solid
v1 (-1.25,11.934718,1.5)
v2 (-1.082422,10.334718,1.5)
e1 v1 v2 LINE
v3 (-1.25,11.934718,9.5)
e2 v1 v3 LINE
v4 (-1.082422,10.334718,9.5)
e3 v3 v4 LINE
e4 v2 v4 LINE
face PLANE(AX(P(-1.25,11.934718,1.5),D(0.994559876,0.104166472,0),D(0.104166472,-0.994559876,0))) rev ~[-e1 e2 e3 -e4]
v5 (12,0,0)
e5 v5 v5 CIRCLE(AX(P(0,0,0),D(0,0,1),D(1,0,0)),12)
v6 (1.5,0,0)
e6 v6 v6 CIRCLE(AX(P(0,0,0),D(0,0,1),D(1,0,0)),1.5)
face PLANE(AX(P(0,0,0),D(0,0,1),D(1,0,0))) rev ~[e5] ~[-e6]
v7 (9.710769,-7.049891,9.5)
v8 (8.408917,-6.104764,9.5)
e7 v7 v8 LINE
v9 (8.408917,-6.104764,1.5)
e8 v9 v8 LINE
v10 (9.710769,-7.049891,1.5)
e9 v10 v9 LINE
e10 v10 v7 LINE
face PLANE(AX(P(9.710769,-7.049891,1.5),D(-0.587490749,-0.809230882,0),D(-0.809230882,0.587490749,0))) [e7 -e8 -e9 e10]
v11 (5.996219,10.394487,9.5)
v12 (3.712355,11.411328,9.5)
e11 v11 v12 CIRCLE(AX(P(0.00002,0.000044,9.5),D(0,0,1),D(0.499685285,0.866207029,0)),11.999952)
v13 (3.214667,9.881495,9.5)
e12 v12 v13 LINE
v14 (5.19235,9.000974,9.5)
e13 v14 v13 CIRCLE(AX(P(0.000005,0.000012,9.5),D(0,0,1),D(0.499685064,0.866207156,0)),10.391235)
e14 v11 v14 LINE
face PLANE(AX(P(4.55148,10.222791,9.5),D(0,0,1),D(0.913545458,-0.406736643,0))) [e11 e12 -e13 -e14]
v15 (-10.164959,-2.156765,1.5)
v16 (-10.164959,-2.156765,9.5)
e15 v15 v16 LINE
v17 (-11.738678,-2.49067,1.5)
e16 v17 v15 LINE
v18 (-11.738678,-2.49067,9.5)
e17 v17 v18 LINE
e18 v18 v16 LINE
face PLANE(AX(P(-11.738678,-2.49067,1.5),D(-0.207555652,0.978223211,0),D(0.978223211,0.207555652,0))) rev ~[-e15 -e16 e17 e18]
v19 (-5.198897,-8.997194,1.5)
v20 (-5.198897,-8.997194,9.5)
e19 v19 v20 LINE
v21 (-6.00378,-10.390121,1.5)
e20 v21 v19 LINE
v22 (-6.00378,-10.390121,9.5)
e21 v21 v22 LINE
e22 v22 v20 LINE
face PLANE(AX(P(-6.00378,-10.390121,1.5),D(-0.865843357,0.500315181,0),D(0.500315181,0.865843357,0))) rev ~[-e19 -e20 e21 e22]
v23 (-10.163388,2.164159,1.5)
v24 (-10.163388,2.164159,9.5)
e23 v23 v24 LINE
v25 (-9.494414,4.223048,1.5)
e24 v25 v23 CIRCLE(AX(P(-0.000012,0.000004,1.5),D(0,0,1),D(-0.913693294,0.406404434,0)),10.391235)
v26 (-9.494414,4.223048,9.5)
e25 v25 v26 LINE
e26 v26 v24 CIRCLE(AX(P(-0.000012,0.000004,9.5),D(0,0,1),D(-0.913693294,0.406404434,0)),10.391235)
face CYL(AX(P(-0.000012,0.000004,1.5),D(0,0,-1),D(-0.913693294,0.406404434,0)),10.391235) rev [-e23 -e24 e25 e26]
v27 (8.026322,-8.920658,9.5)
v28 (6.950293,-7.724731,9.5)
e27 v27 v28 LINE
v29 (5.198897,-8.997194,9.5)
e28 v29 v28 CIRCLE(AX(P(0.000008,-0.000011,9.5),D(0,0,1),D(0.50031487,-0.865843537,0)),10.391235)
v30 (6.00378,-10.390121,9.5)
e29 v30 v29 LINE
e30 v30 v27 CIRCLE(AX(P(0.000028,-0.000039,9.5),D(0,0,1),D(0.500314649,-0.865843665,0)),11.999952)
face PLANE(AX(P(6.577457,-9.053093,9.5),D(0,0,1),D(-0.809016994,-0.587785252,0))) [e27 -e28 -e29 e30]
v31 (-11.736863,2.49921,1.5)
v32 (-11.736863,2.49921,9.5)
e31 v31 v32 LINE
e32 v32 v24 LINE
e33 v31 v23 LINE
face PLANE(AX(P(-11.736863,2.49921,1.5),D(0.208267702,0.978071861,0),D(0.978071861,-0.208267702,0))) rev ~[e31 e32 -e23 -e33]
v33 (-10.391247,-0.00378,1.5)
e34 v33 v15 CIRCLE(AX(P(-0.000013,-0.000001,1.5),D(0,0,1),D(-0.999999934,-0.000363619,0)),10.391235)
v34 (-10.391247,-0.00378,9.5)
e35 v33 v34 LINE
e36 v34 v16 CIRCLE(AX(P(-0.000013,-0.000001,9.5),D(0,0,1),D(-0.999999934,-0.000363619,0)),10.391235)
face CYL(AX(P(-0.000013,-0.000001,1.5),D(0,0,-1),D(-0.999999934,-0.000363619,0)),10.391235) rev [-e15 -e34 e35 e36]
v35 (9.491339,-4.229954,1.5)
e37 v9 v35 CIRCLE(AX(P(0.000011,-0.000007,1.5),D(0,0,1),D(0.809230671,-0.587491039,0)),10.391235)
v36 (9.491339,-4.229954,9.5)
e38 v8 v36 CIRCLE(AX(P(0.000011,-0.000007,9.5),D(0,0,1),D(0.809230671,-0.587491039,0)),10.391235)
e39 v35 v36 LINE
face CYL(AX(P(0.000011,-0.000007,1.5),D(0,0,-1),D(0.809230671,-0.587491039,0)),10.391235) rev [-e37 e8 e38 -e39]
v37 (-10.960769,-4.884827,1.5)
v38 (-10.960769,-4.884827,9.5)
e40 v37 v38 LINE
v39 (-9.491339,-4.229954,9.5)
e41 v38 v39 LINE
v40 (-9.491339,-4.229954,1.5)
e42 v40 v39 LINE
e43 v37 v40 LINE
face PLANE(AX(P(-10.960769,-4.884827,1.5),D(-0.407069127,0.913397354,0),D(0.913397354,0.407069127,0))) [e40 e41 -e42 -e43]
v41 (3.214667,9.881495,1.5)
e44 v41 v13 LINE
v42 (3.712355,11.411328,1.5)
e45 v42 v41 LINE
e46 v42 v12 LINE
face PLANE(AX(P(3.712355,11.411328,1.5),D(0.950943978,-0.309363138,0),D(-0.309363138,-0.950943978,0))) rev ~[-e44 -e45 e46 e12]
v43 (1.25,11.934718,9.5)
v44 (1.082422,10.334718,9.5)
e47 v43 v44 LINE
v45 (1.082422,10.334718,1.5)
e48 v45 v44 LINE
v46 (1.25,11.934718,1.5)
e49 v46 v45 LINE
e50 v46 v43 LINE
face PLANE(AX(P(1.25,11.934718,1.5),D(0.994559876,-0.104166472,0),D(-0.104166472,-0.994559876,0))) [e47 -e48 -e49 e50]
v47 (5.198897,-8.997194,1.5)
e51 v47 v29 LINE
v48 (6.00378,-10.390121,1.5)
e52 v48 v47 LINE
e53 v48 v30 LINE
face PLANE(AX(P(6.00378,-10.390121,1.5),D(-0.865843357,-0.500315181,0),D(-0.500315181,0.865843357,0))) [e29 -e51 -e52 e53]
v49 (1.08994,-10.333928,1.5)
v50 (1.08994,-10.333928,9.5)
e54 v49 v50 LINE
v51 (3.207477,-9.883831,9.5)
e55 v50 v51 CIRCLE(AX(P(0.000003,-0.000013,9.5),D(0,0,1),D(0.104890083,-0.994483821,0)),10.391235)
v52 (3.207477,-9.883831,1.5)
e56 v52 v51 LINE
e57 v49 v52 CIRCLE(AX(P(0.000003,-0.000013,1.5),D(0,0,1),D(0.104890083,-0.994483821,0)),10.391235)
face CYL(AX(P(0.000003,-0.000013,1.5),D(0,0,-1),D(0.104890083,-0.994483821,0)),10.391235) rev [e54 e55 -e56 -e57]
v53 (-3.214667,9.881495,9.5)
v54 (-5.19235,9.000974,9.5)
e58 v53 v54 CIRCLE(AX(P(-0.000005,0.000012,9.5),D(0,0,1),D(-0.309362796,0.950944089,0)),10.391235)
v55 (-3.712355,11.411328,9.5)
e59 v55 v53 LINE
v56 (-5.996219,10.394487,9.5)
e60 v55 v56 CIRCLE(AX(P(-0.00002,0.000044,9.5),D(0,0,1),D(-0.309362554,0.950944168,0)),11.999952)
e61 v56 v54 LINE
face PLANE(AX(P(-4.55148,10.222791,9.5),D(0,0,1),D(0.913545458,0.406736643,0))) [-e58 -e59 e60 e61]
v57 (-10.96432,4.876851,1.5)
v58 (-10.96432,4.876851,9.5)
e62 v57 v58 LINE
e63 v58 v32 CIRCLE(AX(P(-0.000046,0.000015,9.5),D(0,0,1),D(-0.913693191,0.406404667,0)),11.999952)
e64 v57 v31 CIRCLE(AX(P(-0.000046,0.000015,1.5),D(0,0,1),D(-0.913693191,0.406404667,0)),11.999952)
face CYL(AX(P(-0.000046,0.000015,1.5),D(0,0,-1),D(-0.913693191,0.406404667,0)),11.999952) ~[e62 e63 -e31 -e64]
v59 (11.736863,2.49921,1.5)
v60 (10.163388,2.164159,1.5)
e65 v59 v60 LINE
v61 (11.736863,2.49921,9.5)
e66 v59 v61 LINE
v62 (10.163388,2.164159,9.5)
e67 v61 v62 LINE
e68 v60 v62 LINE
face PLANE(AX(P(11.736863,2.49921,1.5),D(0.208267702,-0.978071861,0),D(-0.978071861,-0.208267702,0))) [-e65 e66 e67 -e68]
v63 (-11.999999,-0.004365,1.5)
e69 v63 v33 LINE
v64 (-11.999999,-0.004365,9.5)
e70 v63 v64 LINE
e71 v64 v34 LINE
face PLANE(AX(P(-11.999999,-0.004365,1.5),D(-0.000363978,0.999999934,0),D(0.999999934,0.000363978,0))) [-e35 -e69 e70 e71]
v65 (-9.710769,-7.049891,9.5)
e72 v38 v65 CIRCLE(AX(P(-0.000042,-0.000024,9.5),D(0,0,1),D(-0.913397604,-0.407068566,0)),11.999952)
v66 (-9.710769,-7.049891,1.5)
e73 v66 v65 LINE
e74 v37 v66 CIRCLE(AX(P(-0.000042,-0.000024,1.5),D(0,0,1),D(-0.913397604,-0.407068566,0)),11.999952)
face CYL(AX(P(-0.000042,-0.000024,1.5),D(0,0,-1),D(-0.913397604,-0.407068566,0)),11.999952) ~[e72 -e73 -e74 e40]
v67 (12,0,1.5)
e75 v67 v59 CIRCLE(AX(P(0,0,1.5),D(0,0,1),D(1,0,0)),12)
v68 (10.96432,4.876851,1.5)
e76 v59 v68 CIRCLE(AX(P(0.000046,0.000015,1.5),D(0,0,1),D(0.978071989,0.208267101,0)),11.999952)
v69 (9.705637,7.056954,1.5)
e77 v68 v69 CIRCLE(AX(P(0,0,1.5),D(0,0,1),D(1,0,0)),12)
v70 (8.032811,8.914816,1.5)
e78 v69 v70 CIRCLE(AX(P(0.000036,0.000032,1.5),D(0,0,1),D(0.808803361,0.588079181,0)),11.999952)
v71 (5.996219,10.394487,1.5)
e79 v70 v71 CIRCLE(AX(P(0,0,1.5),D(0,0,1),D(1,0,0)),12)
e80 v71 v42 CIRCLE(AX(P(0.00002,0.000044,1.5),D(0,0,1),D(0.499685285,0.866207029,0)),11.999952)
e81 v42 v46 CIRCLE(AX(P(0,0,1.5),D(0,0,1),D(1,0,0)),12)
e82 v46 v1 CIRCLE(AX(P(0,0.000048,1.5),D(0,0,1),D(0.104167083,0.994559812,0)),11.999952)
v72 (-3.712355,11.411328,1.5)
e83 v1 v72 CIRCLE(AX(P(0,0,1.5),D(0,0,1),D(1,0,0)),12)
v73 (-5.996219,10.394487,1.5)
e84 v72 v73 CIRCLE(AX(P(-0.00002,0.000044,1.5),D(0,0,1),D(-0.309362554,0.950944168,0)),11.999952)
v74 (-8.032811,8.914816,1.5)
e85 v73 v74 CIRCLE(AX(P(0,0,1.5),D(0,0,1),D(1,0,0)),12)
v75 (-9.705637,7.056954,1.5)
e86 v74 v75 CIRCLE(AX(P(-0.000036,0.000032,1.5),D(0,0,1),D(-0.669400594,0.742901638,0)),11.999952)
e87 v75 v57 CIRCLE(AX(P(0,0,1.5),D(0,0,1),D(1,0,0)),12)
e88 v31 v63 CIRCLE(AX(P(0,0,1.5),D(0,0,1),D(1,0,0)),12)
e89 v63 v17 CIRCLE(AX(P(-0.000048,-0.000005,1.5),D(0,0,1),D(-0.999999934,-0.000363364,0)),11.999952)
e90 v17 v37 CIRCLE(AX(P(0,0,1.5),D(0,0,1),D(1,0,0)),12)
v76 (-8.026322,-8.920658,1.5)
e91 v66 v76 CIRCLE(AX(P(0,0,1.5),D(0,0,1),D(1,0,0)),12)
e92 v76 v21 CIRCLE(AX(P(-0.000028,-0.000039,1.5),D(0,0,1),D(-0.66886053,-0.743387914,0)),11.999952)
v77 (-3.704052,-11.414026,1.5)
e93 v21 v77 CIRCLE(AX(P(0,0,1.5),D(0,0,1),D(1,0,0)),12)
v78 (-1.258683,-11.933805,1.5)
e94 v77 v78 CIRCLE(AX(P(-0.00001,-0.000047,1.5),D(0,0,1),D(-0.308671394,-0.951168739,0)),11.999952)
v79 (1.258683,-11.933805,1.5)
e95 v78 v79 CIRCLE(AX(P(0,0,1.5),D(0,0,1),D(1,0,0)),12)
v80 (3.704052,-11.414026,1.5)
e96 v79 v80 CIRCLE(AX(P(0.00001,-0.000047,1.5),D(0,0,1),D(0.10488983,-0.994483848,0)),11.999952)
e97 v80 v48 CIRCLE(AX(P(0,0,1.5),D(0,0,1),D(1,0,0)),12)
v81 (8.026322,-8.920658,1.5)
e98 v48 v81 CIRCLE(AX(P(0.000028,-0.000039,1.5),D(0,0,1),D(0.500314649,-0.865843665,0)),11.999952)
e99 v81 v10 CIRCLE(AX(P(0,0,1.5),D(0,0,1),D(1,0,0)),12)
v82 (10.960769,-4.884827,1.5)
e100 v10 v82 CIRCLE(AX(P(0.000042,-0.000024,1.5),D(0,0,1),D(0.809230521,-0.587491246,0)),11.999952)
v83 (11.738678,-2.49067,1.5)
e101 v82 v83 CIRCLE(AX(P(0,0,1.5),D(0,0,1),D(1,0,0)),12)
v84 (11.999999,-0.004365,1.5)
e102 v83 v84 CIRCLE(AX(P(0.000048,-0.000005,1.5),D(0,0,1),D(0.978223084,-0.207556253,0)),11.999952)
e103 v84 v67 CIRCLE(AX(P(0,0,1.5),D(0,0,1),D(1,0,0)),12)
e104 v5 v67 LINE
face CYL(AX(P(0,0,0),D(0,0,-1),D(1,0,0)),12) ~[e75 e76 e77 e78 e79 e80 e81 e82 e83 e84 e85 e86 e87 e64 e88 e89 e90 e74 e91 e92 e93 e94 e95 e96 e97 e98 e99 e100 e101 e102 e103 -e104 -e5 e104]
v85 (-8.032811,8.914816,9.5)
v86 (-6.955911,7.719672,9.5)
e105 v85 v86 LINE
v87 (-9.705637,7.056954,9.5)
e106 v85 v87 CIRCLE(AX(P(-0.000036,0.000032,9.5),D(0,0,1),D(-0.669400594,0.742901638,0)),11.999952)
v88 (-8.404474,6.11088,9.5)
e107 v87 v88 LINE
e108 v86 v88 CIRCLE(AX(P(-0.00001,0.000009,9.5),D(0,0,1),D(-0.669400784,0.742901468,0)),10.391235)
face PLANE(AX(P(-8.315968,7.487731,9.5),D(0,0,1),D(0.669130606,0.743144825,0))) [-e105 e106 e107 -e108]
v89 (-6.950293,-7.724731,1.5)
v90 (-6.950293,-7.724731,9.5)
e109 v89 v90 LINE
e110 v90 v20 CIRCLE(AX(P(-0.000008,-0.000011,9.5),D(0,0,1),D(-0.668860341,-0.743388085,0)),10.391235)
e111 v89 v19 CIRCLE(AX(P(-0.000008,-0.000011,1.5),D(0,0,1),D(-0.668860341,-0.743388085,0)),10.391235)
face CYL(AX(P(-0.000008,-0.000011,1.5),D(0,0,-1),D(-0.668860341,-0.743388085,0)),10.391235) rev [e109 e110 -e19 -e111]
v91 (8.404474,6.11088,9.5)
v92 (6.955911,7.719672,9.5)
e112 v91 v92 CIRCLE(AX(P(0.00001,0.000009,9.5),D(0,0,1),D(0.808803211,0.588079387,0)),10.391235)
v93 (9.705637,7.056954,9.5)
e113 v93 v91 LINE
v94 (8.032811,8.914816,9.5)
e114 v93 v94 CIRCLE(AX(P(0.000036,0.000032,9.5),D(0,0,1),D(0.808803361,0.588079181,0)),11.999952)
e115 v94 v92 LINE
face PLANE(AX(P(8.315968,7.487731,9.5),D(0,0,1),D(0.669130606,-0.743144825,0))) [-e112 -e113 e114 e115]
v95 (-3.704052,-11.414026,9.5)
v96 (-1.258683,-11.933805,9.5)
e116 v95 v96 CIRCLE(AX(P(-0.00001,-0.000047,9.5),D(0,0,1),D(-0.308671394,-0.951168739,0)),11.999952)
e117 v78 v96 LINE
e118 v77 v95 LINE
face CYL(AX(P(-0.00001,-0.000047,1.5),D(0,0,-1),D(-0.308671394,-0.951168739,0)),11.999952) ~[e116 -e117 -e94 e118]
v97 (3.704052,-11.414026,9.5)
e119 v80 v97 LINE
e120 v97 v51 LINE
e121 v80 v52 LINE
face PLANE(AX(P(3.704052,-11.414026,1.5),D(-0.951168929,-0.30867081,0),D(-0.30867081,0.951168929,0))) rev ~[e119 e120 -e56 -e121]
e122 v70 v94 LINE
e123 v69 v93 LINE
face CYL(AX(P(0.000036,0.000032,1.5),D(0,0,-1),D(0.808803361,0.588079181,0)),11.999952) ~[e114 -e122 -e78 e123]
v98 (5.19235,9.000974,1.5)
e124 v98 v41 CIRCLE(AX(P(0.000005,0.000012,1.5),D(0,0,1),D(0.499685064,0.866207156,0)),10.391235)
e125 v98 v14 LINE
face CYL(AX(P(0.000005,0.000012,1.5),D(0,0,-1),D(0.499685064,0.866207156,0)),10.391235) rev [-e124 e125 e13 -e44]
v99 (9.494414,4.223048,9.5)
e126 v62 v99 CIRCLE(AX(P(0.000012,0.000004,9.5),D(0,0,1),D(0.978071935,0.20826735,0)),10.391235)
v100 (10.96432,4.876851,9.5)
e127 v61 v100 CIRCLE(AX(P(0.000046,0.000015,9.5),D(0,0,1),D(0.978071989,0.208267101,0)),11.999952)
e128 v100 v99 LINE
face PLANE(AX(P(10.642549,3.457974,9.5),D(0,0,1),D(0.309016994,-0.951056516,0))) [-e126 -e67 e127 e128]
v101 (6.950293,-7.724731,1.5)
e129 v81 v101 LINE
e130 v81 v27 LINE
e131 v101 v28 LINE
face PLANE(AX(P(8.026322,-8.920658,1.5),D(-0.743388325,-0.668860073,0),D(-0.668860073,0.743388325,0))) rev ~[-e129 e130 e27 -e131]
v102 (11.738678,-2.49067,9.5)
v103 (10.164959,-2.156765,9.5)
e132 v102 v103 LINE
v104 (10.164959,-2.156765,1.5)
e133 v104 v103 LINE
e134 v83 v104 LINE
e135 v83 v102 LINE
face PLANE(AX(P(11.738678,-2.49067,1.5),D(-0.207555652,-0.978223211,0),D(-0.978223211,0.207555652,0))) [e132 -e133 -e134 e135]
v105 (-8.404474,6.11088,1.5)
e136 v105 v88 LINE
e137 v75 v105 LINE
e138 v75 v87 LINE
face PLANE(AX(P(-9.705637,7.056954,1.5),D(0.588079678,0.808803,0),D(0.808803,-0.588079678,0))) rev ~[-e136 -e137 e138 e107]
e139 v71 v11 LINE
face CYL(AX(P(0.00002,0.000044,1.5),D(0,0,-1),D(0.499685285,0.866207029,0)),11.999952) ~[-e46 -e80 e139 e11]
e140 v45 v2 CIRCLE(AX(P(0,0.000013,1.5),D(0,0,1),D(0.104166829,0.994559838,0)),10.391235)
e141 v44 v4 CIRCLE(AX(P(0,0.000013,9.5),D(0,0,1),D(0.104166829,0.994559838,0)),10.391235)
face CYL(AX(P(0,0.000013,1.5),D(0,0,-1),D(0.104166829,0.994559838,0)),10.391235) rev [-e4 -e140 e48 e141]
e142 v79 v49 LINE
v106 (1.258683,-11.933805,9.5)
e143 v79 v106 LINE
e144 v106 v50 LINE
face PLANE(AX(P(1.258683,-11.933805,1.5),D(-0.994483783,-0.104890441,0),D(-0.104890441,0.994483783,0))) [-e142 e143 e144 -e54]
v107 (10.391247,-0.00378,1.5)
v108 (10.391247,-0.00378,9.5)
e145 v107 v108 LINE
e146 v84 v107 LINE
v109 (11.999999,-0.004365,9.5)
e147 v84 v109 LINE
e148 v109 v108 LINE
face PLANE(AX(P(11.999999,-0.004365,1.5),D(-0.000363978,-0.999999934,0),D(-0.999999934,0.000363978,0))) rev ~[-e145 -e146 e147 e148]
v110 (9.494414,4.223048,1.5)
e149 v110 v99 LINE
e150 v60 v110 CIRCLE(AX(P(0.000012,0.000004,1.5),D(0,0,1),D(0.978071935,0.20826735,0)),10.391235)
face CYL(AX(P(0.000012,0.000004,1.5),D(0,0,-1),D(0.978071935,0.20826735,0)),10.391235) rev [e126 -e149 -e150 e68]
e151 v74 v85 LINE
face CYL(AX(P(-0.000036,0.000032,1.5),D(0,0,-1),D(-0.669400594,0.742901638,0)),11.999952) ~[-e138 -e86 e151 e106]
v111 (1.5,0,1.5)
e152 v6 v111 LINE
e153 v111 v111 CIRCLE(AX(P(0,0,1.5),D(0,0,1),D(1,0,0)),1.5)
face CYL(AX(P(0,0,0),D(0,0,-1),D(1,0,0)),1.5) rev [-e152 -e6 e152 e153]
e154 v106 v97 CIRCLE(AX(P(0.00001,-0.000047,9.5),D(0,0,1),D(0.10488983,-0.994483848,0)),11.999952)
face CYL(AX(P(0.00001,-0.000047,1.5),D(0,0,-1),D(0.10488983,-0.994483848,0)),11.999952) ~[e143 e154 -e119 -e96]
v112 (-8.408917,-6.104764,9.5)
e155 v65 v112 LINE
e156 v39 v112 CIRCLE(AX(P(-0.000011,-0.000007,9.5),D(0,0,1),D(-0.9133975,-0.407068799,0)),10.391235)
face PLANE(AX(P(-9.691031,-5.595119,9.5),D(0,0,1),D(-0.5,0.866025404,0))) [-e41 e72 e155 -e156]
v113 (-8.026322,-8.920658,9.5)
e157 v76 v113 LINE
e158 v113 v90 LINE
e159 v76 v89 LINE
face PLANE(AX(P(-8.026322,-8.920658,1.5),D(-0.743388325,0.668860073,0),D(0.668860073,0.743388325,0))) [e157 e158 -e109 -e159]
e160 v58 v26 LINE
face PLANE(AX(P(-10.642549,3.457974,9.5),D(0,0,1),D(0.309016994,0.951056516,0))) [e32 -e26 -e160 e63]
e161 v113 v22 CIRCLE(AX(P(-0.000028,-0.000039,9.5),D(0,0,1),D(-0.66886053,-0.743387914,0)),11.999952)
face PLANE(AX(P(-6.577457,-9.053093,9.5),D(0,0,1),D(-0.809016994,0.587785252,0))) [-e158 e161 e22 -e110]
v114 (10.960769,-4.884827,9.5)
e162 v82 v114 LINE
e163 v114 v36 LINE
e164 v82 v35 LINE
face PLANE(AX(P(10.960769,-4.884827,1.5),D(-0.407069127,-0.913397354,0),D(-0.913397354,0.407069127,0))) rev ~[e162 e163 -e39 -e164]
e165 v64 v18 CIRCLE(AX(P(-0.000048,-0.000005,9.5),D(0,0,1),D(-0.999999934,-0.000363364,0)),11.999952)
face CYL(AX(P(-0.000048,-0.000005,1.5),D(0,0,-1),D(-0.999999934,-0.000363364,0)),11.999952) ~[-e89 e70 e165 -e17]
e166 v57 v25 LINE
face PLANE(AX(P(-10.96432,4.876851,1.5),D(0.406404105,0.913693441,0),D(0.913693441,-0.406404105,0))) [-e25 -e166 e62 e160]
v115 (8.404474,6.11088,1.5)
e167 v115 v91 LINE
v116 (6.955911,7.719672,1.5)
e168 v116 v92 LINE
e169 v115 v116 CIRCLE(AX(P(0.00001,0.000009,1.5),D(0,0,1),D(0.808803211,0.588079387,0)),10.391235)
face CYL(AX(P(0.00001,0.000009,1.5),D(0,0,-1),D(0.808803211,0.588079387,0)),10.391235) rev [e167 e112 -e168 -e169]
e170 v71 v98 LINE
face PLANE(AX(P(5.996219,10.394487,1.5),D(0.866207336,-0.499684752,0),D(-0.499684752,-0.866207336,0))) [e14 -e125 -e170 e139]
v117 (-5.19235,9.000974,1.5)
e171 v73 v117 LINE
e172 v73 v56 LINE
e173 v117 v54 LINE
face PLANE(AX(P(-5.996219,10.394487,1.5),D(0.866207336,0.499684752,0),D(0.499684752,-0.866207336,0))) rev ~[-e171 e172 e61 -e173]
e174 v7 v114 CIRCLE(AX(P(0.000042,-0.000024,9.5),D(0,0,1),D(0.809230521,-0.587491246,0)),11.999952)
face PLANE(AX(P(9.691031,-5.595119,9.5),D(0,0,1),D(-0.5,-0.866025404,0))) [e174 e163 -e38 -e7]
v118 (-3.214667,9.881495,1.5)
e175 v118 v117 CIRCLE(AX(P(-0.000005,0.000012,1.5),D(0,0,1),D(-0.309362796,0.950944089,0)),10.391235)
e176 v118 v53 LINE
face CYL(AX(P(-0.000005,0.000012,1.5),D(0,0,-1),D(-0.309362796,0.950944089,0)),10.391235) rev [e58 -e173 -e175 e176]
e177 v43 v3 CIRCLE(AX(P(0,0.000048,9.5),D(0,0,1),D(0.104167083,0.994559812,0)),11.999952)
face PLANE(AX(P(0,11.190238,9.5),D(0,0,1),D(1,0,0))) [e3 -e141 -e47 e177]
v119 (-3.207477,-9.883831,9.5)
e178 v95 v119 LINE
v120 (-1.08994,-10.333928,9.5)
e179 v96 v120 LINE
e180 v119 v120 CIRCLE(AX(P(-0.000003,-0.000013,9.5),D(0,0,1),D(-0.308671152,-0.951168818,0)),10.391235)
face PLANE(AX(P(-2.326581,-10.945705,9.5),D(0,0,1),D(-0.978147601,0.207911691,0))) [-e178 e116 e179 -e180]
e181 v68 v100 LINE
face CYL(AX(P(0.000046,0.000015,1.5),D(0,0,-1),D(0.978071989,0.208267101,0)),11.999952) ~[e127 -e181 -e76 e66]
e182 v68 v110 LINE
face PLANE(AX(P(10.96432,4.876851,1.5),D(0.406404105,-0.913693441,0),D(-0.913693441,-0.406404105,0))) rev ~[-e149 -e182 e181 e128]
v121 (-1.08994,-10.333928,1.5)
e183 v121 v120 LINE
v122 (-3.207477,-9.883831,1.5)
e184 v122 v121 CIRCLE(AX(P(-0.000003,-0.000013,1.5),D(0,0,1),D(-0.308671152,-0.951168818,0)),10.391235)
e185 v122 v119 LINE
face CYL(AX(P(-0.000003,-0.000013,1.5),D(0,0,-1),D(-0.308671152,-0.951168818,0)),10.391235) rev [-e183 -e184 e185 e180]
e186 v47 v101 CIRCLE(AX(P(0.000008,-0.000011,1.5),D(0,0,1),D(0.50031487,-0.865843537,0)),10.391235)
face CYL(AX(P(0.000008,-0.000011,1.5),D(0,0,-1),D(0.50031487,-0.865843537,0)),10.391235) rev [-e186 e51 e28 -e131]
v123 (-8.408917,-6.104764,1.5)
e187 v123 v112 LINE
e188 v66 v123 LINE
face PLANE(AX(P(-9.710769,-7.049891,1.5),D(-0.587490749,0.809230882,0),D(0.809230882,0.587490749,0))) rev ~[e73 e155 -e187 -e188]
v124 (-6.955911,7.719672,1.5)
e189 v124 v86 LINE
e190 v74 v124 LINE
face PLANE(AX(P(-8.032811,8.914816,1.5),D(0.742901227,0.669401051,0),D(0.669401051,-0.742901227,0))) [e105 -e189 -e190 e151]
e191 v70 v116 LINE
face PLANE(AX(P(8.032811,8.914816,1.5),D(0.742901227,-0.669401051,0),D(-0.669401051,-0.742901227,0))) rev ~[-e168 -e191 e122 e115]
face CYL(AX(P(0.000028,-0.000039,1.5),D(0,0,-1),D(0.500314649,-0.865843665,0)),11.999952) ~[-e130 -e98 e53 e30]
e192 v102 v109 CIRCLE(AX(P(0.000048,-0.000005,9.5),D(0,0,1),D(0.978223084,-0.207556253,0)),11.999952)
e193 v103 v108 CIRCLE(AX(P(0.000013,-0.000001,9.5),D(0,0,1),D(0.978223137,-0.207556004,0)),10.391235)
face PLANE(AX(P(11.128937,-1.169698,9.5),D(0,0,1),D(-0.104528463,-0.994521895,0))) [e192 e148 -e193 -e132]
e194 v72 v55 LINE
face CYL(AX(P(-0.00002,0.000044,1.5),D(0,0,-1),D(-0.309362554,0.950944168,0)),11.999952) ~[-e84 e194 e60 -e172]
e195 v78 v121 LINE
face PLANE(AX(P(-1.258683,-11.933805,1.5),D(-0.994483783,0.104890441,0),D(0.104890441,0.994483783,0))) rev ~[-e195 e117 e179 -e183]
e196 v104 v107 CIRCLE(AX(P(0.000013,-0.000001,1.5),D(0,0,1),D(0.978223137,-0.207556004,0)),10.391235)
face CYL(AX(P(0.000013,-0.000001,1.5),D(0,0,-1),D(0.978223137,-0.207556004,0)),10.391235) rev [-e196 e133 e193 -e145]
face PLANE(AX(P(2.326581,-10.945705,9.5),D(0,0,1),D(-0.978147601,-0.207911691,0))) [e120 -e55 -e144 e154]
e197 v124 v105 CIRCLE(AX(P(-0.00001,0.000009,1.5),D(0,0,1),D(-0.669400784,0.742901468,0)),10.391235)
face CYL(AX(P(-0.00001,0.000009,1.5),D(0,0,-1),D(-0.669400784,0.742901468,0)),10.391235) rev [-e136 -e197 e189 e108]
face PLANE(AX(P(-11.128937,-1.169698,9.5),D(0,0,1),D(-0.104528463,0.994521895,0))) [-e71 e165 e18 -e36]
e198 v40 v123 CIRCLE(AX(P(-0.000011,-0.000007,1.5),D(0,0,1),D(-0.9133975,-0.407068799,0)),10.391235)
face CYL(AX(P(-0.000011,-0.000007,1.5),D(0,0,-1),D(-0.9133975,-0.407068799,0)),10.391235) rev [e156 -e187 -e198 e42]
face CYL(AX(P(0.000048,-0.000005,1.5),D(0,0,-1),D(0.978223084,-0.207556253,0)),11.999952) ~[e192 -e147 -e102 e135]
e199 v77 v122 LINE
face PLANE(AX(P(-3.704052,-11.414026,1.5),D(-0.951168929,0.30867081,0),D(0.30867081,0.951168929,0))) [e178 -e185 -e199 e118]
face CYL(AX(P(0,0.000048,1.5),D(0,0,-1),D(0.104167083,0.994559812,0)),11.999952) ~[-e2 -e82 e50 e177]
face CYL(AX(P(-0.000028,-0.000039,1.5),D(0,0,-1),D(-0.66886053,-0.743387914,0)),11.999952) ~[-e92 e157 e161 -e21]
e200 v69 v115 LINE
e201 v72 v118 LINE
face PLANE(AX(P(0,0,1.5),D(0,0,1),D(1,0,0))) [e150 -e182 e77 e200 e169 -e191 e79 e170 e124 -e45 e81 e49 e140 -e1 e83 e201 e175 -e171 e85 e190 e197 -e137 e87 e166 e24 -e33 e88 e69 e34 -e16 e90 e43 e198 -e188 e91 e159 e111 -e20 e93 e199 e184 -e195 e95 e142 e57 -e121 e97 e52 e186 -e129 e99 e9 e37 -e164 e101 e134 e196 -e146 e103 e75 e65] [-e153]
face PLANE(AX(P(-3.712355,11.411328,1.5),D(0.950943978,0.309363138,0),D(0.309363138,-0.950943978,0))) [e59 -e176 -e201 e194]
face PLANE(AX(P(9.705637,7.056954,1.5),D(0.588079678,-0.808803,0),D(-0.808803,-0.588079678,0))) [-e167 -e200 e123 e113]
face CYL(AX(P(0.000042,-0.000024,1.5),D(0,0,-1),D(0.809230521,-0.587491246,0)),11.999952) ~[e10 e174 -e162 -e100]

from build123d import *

# Parameters (mm, degrees)
SKETCH_R           = 12
SKETCH_R_2         = 1.5
PAD_DEPTH          = 1.5
PAD001_DEPTH       = 8
POLARPATTERN_COUNT = 15


with BuildPart() as part:
    # Sketch → Pad (new body)
    with BuildSketch(Plane.XY):
        Circle(SKETCH_R)
        Circle(SKETCH_R_2, mode=Mode.SUBTRACT)
    extrude(amount=PAD_DEPTH)

    # Sketch001 → Pad001 (new body)
    with BuildSketch(Plane.XY.offset(1.5)):
        with BuildLine():
            ThreePointArc((1.25, 11.934718), (0, 12), (-1.25, 11.934718))
            Line((-1.25, 11.934718), (-1.082422, 10.334718))
            ThreePointArc((1.082422, 10.334718), (0, 10.391248), (-1.082422, 10.334718))
            Line((1.25, 11.934718), (1.082422, 10.334718))
        make_face()
    pad001 = extrude(amount=PAD001_DEPTH)

    # PolarPattern: Pad001 ×15 about axis
    polarpattern_axis = Axis((0, 0, 1.5), (0, 0, 1))
    for i in range(1, POLARPATTERN_COUNT):
        add(pad001.rotate(polarpattern_axis, i * 360 / POLARPATTERN_COUNT))


solid = part.part
